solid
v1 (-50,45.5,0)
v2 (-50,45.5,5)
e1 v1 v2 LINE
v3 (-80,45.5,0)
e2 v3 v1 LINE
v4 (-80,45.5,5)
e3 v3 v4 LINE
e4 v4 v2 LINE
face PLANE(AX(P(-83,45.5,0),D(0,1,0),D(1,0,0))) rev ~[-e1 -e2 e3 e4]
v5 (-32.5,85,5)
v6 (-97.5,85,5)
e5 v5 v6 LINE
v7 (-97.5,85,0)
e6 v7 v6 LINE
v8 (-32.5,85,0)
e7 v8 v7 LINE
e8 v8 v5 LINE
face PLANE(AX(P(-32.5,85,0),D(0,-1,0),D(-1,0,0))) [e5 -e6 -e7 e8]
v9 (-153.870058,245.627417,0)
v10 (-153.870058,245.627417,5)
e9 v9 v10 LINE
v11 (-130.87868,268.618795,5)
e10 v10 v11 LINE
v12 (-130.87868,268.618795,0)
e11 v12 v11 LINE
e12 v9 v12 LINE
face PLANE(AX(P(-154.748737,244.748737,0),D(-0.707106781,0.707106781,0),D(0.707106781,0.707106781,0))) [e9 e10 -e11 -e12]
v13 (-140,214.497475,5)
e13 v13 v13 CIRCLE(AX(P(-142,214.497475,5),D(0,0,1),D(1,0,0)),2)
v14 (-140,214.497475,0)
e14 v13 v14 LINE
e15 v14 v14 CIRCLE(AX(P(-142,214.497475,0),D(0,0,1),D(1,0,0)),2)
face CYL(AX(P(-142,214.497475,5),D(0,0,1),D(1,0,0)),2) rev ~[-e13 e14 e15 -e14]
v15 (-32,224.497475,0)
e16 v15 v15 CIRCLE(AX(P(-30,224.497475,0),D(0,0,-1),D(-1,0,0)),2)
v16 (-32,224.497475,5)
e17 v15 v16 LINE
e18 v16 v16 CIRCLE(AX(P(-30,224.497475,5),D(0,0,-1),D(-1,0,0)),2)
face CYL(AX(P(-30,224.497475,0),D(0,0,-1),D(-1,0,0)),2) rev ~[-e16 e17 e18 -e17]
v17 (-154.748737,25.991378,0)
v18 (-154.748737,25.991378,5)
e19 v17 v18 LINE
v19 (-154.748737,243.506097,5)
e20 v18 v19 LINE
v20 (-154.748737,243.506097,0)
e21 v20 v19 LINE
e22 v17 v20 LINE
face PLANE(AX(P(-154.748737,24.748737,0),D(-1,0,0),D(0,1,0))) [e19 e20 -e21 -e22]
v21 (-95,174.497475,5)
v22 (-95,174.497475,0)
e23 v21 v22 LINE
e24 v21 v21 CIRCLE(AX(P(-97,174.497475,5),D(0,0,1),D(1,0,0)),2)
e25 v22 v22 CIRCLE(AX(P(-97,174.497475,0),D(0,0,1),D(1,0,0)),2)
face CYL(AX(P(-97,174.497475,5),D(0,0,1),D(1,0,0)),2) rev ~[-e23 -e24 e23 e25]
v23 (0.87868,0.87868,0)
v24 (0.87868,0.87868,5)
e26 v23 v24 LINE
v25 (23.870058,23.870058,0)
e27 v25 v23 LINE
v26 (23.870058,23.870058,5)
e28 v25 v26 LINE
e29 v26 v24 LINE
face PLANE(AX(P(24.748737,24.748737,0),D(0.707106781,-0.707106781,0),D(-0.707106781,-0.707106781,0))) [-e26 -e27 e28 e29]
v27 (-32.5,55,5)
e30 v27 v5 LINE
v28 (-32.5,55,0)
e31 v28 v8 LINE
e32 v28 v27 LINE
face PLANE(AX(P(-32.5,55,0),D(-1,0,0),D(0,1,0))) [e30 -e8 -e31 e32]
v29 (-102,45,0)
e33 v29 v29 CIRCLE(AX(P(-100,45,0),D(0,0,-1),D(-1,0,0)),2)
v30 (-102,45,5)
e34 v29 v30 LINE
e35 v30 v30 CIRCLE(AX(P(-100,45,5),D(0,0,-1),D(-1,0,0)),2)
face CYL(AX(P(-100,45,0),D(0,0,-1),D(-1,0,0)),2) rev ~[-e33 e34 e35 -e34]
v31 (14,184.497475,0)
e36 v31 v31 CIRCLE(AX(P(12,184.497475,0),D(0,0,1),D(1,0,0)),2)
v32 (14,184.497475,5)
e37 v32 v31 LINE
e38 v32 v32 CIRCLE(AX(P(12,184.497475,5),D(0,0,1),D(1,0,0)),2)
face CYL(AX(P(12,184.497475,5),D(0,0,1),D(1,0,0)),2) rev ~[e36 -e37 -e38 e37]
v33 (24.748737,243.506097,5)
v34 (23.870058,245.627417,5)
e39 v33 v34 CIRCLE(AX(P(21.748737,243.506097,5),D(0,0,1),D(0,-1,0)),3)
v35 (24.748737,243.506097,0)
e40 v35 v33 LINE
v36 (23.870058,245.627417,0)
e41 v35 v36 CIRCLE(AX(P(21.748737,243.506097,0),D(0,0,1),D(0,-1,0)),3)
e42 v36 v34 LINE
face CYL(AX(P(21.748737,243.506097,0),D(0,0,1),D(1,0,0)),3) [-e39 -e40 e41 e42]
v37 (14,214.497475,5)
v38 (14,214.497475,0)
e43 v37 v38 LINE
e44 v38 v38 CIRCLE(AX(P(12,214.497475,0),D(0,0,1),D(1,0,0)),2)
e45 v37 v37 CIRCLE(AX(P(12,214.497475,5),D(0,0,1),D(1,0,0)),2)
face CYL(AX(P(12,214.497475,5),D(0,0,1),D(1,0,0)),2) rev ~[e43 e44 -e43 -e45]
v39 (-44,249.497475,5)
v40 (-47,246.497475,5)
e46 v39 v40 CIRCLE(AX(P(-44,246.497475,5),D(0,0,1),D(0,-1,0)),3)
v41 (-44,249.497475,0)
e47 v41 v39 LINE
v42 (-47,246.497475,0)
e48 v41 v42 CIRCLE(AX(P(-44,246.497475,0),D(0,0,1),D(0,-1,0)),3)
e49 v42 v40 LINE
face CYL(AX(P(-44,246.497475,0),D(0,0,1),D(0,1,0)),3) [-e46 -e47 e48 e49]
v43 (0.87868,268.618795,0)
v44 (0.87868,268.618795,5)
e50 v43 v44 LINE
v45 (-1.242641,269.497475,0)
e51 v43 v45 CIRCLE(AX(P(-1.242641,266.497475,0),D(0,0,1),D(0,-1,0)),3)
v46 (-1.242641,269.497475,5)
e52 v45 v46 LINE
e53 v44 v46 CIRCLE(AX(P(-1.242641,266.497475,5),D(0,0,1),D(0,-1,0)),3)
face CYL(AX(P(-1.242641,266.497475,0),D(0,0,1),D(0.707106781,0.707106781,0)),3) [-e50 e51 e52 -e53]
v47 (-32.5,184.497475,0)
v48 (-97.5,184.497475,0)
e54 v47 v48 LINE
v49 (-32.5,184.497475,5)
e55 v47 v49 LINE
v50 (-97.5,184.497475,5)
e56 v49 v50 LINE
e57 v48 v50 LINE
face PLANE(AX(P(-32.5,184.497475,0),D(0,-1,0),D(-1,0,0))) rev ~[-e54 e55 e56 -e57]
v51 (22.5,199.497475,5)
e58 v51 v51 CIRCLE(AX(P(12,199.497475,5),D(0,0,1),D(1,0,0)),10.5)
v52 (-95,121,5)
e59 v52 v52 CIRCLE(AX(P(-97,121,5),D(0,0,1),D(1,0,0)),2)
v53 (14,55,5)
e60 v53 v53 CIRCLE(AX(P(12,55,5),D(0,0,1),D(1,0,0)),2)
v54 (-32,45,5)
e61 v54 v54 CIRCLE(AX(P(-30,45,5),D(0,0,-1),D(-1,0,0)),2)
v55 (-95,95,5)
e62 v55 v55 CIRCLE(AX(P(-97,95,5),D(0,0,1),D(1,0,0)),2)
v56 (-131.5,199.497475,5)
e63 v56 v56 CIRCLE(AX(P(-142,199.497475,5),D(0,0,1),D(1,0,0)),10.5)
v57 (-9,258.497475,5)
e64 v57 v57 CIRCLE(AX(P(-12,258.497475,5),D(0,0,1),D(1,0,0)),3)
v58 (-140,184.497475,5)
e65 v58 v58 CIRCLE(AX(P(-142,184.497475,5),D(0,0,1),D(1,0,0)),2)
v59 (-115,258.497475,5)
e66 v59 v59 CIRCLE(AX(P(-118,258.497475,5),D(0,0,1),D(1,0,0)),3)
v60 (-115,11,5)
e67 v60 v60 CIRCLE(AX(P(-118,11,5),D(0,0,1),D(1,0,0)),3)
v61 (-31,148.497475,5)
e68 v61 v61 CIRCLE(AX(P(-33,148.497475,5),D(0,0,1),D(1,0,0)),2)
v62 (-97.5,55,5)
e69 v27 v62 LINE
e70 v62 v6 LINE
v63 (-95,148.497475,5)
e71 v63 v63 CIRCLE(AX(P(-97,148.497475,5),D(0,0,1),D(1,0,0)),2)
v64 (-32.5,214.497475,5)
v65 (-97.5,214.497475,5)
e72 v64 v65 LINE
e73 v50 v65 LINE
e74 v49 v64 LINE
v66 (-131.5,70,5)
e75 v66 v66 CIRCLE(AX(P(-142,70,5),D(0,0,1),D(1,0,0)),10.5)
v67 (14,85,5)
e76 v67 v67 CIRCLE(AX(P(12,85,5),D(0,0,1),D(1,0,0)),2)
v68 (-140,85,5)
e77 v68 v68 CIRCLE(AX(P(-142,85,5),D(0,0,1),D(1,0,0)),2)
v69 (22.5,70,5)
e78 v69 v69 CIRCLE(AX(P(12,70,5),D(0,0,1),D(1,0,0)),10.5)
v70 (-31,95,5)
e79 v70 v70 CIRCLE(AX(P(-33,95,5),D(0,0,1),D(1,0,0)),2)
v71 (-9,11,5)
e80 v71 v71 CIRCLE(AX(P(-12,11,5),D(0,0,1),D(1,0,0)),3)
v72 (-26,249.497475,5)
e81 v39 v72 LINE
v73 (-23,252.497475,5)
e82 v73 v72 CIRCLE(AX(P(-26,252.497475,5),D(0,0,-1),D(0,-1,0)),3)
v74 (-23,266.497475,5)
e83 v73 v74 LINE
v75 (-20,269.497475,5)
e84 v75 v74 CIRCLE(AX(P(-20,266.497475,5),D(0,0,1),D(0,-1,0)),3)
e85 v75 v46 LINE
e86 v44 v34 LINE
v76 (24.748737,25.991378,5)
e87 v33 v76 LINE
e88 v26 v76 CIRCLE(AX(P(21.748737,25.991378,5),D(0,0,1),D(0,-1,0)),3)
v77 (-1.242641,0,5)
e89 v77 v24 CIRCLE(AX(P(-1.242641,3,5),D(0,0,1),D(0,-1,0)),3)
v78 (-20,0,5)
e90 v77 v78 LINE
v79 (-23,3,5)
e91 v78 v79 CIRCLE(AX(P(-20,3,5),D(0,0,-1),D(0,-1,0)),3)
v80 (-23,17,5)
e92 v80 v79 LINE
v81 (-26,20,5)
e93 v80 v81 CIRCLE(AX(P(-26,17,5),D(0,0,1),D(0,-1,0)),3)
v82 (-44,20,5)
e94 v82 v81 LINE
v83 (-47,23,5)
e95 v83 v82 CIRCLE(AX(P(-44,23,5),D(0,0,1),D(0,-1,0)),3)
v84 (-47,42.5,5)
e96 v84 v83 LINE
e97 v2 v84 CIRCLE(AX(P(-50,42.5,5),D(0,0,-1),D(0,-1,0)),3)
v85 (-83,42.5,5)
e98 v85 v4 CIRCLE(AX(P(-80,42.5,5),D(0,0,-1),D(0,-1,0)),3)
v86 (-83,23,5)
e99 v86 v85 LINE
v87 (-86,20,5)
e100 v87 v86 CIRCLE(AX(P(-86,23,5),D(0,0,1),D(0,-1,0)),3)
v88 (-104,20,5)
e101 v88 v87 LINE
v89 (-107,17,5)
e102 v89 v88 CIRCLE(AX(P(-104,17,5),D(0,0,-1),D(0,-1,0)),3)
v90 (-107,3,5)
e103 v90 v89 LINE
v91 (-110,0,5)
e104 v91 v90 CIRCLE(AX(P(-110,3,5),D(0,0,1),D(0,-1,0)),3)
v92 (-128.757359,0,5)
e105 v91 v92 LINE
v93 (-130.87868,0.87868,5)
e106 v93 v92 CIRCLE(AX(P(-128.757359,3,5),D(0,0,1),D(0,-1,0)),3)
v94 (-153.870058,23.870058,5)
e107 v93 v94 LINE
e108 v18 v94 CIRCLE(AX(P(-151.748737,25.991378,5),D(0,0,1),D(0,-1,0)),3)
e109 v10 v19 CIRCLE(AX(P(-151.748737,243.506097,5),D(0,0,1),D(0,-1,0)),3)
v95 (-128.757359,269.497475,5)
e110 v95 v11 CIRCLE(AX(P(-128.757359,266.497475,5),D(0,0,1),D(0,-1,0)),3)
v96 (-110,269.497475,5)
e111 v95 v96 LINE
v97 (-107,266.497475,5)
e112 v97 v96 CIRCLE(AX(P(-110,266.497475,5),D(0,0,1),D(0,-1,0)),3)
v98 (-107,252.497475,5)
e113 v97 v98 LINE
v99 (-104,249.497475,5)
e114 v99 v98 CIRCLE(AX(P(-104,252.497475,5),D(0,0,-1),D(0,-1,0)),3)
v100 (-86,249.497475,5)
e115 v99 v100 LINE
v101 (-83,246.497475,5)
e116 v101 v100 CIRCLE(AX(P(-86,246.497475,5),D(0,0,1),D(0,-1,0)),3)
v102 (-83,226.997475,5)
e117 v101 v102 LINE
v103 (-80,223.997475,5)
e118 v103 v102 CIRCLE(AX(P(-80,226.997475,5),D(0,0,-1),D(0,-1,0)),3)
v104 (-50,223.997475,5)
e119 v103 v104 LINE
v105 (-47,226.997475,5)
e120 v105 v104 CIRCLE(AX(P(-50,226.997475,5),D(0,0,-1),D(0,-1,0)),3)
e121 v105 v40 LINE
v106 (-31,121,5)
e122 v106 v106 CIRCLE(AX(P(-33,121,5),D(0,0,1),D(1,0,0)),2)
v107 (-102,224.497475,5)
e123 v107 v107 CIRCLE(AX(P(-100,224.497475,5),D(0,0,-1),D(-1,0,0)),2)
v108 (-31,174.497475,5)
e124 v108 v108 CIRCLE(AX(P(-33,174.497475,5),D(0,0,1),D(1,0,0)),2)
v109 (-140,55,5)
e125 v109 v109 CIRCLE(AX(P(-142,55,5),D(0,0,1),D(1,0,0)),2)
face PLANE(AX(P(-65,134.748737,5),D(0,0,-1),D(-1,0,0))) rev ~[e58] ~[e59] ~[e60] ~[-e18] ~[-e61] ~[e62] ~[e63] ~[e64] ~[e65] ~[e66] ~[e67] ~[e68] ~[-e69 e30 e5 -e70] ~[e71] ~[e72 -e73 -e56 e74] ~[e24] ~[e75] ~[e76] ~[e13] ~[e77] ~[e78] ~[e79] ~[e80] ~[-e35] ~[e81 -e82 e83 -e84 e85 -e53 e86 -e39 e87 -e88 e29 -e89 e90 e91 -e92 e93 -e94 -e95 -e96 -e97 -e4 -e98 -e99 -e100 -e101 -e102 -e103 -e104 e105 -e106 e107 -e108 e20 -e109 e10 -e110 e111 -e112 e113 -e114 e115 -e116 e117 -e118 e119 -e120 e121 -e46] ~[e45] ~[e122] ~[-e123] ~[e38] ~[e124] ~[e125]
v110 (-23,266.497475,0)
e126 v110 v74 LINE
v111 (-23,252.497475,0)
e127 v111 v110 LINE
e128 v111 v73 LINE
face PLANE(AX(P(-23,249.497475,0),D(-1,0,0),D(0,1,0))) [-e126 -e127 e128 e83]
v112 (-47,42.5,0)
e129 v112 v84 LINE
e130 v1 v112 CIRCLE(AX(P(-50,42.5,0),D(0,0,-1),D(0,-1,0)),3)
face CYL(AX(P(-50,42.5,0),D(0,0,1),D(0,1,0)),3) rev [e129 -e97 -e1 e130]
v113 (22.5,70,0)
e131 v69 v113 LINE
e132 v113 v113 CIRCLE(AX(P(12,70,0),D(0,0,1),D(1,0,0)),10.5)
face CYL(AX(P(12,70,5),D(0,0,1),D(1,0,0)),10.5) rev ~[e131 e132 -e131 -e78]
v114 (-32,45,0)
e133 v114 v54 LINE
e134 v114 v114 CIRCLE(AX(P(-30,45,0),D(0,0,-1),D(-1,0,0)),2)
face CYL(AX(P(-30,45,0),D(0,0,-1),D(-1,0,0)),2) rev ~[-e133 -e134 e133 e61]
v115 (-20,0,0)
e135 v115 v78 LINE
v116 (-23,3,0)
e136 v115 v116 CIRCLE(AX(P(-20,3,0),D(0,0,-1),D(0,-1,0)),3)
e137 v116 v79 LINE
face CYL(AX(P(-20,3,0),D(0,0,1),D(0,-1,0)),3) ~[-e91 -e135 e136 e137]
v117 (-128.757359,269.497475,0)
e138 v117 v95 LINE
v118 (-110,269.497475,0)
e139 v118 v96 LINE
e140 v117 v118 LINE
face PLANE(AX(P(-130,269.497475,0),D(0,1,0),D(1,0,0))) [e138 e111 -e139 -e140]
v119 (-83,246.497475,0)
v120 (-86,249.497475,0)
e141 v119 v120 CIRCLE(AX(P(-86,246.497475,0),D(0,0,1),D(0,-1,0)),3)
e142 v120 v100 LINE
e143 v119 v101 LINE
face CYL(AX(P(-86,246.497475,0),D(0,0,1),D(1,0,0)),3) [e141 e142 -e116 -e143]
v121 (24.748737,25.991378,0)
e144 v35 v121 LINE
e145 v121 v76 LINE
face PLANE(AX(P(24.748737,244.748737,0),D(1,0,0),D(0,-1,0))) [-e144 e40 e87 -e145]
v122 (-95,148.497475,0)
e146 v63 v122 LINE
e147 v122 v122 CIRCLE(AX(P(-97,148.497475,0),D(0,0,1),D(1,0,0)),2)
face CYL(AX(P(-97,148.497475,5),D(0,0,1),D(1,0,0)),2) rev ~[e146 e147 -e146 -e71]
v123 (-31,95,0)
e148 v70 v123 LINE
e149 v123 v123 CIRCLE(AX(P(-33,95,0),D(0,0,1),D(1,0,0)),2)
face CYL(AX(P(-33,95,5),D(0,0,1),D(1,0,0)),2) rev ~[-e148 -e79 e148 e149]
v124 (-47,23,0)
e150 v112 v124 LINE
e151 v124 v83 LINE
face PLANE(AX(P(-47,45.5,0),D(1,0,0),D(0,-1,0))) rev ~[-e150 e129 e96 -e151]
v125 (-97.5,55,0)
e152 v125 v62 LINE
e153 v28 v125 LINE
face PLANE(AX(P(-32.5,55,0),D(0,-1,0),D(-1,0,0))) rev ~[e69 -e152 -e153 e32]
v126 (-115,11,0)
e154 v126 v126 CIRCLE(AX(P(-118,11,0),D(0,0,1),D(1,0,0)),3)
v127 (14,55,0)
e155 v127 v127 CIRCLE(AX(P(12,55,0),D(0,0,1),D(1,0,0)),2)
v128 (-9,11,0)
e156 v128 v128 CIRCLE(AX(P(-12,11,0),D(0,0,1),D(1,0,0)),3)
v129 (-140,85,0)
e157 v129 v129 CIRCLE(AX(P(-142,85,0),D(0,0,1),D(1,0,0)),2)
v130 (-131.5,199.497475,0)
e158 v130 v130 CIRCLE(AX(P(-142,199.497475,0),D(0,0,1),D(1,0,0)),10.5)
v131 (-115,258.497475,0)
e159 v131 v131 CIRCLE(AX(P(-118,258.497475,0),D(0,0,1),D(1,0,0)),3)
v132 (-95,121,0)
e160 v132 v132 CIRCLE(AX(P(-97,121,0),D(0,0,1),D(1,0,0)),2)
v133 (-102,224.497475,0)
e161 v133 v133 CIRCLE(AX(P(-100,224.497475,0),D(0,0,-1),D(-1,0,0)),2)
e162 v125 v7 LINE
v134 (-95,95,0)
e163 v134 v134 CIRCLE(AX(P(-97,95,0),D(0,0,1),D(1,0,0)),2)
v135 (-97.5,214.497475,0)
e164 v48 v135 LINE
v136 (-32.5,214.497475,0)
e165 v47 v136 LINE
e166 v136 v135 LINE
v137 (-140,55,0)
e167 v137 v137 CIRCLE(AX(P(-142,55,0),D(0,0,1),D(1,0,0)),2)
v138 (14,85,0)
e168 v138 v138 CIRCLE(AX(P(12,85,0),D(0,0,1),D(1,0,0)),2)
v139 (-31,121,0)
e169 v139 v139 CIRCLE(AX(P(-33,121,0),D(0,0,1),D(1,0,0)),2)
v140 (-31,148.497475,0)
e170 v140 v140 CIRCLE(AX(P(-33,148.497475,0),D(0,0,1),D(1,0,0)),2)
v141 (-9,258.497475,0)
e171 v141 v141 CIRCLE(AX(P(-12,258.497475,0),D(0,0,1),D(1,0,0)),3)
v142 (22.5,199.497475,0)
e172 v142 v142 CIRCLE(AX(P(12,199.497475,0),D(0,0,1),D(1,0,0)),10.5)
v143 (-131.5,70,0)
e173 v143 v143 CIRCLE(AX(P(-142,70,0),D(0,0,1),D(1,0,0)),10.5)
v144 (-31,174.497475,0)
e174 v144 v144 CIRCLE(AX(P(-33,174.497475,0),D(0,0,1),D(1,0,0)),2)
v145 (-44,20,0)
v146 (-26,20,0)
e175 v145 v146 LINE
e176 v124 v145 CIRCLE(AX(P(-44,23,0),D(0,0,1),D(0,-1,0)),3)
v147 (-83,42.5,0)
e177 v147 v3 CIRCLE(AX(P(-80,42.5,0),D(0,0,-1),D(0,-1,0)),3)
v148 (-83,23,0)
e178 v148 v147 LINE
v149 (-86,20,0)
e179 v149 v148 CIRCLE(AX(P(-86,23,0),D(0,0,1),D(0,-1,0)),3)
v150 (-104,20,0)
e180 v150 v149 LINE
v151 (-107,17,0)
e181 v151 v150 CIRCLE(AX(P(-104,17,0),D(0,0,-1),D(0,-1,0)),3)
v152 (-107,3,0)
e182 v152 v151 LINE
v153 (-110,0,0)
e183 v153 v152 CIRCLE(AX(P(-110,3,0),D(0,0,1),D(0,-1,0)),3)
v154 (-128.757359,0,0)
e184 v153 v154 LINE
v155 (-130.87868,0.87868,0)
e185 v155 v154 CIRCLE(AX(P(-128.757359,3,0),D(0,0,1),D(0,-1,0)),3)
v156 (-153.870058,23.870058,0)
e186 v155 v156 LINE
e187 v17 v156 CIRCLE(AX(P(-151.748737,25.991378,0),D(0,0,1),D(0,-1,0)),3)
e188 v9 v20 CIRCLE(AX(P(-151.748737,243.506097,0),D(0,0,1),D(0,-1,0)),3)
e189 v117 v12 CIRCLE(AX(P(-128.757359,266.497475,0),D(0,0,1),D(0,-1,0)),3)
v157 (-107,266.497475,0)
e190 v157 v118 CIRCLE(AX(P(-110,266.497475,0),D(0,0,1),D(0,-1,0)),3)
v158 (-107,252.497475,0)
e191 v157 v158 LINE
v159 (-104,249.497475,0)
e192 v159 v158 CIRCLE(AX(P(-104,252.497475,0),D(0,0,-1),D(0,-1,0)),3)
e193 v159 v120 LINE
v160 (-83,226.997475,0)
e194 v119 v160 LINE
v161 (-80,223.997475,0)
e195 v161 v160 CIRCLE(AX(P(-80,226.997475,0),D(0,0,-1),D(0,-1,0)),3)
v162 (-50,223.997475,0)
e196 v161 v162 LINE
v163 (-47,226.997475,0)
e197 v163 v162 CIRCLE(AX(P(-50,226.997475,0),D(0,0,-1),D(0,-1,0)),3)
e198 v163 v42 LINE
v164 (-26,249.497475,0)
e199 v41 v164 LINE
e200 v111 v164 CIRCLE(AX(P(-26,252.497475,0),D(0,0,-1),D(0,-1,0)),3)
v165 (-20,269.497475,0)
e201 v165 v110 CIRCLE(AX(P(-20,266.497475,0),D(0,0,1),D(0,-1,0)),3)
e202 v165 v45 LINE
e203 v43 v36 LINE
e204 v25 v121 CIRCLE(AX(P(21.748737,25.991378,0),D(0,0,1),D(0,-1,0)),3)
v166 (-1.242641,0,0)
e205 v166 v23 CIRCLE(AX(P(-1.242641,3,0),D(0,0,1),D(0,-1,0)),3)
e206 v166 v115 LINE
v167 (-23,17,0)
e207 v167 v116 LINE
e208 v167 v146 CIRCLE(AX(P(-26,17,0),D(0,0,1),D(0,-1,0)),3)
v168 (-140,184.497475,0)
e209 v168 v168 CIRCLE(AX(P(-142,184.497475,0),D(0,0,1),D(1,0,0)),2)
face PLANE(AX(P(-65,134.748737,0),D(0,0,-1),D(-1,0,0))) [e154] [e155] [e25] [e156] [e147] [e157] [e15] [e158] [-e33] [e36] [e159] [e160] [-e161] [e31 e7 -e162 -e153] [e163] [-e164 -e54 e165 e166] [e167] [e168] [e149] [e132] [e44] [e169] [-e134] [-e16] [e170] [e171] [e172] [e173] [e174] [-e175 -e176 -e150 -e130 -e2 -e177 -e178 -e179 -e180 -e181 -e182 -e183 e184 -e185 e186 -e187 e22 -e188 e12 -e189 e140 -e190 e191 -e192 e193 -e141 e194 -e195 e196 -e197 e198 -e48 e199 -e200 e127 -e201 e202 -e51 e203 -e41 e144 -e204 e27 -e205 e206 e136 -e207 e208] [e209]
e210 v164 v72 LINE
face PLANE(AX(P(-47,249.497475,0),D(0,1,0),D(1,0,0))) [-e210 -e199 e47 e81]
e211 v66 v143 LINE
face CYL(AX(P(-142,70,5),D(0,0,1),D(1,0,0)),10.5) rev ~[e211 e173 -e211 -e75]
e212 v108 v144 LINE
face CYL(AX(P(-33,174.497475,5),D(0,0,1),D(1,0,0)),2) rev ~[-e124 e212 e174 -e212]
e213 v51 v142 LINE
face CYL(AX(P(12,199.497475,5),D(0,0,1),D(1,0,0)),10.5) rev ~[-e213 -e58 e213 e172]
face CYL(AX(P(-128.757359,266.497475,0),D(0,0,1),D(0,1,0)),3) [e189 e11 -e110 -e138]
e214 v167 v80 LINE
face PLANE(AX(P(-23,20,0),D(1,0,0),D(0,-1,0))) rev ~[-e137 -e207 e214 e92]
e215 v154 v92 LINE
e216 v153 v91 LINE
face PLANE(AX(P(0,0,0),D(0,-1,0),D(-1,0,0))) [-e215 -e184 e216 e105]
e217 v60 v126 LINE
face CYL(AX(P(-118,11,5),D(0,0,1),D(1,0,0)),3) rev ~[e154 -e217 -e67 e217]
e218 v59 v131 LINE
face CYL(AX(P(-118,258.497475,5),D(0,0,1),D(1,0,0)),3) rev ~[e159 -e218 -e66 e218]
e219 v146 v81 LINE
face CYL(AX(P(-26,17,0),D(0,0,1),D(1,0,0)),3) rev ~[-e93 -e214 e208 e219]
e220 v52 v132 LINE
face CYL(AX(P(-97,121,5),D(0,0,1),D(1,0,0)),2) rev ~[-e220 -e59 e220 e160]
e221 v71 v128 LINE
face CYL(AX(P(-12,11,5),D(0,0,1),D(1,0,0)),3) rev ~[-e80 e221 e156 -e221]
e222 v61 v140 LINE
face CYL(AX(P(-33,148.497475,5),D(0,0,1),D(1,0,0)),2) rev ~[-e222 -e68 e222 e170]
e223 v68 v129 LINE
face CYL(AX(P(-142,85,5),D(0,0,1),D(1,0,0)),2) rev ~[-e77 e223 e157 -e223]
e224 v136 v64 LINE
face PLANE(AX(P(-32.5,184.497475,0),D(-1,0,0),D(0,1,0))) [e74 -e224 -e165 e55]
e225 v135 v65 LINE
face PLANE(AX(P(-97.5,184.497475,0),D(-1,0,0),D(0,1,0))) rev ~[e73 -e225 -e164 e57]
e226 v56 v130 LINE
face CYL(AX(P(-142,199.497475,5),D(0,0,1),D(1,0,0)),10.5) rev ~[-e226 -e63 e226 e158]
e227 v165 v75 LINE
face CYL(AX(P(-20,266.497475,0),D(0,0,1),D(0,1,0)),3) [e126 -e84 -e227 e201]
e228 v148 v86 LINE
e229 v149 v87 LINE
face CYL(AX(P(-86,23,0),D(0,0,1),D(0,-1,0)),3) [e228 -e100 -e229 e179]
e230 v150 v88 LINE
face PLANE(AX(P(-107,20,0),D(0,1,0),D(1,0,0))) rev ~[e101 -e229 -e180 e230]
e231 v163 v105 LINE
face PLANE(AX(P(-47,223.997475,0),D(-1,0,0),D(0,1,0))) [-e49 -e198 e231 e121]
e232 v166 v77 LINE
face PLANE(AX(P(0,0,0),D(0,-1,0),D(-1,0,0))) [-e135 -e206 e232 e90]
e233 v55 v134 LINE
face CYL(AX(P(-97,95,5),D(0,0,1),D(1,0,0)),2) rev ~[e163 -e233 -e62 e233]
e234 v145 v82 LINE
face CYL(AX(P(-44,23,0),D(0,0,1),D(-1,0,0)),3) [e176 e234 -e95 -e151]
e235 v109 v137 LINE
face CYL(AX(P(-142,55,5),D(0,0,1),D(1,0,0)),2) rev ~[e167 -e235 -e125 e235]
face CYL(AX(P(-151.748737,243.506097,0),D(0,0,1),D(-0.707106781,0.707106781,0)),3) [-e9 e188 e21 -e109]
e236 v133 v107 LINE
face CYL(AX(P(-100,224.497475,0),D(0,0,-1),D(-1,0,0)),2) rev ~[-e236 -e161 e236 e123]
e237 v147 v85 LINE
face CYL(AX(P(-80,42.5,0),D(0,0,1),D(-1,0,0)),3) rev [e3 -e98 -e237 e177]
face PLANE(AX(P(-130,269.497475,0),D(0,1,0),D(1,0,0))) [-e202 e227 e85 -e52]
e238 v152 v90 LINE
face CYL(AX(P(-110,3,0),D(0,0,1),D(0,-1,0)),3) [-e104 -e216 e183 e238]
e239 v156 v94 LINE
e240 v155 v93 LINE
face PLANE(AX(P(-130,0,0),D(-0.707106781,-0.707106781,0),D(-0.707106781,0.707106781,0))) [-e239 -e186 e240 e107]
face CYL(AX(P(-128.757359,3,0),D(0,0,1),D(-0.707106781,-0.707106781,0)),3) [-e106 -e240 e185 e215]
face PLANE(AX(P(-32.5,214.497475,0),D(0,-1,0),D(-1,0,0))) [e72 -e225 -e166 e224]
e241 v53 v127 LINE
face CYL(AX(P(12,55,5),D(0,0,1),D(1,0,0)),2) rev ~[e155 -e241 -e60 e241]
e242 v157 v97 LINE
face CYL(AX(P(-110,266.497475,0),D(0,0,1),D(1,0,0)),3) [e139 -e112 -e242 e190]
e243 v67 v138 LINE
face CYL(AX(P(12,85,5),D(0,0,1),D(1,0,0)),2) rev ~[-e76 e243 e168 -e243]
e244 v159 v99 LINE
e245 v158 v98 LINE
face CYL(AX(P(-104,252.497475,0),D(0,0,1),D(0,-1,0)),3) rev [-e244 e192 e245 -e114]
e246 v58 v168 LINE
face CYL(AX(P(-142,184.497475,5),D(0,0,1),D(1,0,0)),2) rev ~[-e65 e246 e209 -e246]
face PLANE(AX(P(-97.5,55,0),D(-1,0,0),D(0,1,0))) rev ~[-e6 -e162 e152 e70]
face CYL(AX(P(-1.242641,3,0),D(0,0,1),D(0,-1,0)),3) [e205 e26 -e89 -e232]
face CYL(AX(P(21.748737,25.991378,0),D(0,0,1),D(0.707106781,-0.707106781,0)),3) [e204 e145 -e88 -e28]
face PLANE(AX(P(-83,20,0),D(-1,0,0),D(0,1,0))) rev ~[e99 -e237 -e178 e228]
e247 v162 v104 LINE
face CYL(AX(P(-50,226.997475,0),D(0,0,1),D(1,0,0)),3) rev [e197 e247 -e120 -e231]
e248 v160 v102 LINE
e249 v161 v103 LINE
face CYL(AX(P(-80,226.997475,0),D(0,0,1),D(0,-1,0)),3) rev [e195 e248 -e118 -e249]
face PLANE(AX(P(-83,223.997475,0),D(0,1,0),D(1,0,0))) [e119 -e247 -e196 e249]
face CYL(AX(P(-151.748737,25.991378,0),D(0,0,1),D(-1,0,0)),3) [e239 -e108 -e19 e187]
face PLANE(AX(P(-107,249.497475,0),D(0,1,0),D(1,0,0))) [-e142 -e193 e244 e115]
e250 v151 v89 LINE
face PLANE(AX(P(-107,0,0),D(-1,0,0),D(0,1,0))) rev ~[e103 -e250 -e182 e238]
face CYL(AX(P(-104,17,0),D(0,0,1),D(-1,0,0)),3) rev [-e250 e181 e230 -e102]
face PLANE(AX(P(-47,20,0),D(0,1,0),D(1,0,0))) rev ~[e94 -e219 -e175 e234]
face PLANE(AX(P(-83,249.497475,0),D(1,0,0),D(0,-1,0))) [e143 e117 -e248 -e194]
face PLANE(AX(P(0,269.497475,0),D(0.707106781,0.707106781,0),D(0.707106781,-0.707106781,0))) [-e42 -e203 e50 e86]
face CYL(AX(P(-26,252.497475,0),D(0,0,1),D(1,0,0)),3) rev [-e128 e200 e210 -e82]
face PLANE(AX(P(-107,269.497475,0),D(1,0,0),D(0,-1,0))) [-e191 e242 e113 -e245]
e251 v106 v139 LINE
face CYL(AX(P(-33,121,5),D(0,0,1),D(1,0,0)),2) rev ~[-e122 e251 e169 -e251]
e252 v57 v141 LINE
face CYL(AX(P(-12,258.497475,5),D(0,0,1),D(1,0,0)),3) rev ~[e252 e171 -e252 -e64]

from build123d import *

# Parameters (mm, degrees)
BASE_DEPTH                = 5
ESQUISSE3_R               = 2
ESQUISSE3_W               = 65
ESQUISSE3_H               = 30
ENL_V_MAT_EXTRU_1_DEPTH   = 6
CONG_1_R                  = 3
PER_AGE_POUR_BILLES_REACH = 7
ESQUISSE6_R               = 2
ESQUISSE6_R_2             = 10.5
PER_AGE_POUR_PROFIL_REACH = 7
ESQUISSE8_R               = 3
ESQUISSE10_R              = 2
ENL_V_MAT_EXTRU_3_DEPTH   = 6


with BuildPart() as part:
    # Esquisse1 → Base (new body)
    with BuildSketch(Plane.XY):
        Polygon((0, 0), (-130, 0), (-154.748737342, 24.748737342), (-154.748737342, 244.748737342), (-130, 269.497474683), (0, 269.497474683), (24.748737342, 244.748737342), (24.748737342, 24.748737342), align=None)
    extrude(amount=BASE_DEPTH)

    # Esquisse3 → Enlèv. mat.-Extru.1 (cut, through all)
    with BuildSketch(Plane(origin=(0, 0, 0), x_dir=(-1, 0, 0), z_dir=(0, 0, -1))):
        with Locations((30, 45)):
            Circle(ESQUISSE3_R)
        with Locations((100, 45)):
            Circle(ESQUISSE3_R)
        with Locations((100, 224.497474683)):
            Circle(ESQUISSE3_R)
        with Locations((30, 224.497474683)):
            Circle(ESQUISSE3_R)
        Polygon((107, 0), (107, 20), (83, 20), (83, 45.5), (47, 45.5), (47, 20), (23, 20), (23, 0), align=None)
        Polygon((23, 269.497474683), (107, 269.497474683), (107, 249.497474683), (83, 249.497474683), (83, 223.997474683), (47, 223.997474683), (47, 249.497474683), (23, 249.497474683), align=None)
        with Locations((65, 199.497474683)):
            Rectangle(ESQUISSE3_W, ESQUISSE3_H)
        with Locations((65, 70)):
            Rectangle(ESQUISSE3_W, ESQUISSE3_H)
    extrude(amount=-ENL_V_MAT_EXTRU_1_DEPTH, mode=Mode.SUBTRACT)

    # Congé1
    cong_1_edges = [part.edges().sort_by_distance(p)[0] for p in [
        (0, 0, 2.5),
        (-130, 0, 2.5),
        (-154.748737342, 24.748737342, 2.5),
        (-154.748737342, 244.748737342, 2.5),
        (-130, 269.497474683, 2.5),
        (0, 269.497474683, 2.5),
        (24.748737342, 244.748737342, 2.5),
        (24.748737342, 24.748737342, 2.5),
        (-23, 249.497474683, 2.5),
        (-23, 269.497474683, 2.5),
        (-107, 269.497474683, 2.5),
        (-107, 249.497474683, 2.5),
        (-83, 249.497474683, 2.5),
        (-83, 223.997474683, 2.5),
        (-47, 223.997474683, 2.5),
        (-47, 249.497474683, 2.5),
        (-107, 0, 2.5),
        (-23, 0, 2.5),
        (-23, 20, 2.5),
        (-47, 20, 2.5),
        (-47, 45.5, 2.5),
        (-83, 45.5, 2.5),
        (-83, 20, 2.5),
        (-107, 20, 2.5),
    ]]
    fillet(cong_1_edges, radius=CONG_1_R)

    # Esquisse6 → Perçage pour billes (cut, up to next)
    with BuildSketch(Plane.XY.offset(5), mode=Mode.PRIVATE) as per_age_pour_billes_sk1:
        with Locations((-142, 55)):
            Circle(ESQUISSE6_R)
    per_age_pour_billes_tool1 = extrude(per_age_pour_billes_sk1.sketch, amount=-PER_AGE_POUR_BILLES_REACH, mode=Mode.PRIVATE) & part.part
    add(per_age_pour_billes_tool1.solids().sort_by_distance((-142, 55, 5))[0], mode=Mode.SUBTRACT)
    # Esquisse6 → Perçage pour billes (cut, up to next)
    with BuildSketch(Plane.XY.offset(5), mode=Mode.PRIVATE) as per_age_pour_billes_sk2:
        with Locations((-142, 85)):
            Circle(ESQUISSE6_R)
    per_age_pour_billes_tool2 = extrude(per_age_pour_billes_sk2.sketch, amount=-PER_AGE_POUR_BILLES_REACH, mode=Mode.PRIVATE) & part.part
    add(per_age_pour_billes_tool2.solids().sort_by_distance((-142, 85, 5))[0], mode=Mode.SUBTRACT)
    # Esquisse6 → Perçage pour billes (cut, up to next)
    with BuildSketch(Plane.XY.offset(5), mode=Mode.PRIVATE) as per_age_pour_billes_sk3:
        with Locations((-142, 70)):
            Circle(ESQUISSE6_R_2)
    per_age_pour_billes_tool3 = extrude(per_age_pour_billes_sk3.sketch, amount=-PER_AGE_POUR_BILLES_REACH, mode=Mode.PRIVATE) & part.part
    add(per_age_pour_billes_tool3.solids().sort_by_distance((-142, 70, 5))[0], mode=Mode.SUBTRACT)
    # Esquisse6 → Perçage pour billes (cut, up to next)
    with BuildSketch(Plane.XY.offset(5), mode=Mode.PRIVATE) as per_age_pour_billes_sk4:
        with Locations((-142, 214.497474683)):
            Circle(ESQUISSE6_R)
    per_age_pour_billes_tool4 = extrude(per_age_pour_billes_sk4.sketch, amount=-PER_AGE_POUR_BILLES_REACH, mode=Mode.PRIVATE) & part.part
    add(per_age_pour_billes_tool4.solids().sort_by_distance((-142, 214.497475, 5))[0], mode=Mode.SUBTRACT)
    # Esquisse6 → Perçage pour billes (cut, up to next)
    with BuildSketch(Plane.XY.offset(5), mode=Mode.PRIVATE) as per_age_pour_billes_sk5:
        with Locations((-142, 184.497474683)):
            Circle(ESQUISSE6_R)
    per_age_pour_billes_tool5 = extrude(per_age_pour_billes_sk5.sketch, amount=-PER_AGE_POUR_BILLES_REACH, mode=Mode.PRIVATE) & part.part
    add(per_age_pour_billes_tool5.solids().sort_by_distance((-142, 184.497475, 5))[0], mode=Mode.SUBTRACT)
    # Esquisse6 → Perçage pour billes (cut, up to next)
    with BuildSketch(Plane.XY.offset(5), mode=Mode.PRIVATE) as per_age_pour_billes_sk6:
        with Locations((-142, 199.497474683)):
            Circle(ESQUISSE6_R_2)
    per_age_pour_billes_tool6 = extrude(per_age_pour_billes_sk6.sketch, amount=-PER_AGE_POUR_BILLES_REACH, mode=Mode.PRIVATE) & part.part
    add(per_age_pour_billes_tool6.solids().sort_by_distance((-142, 199.497475, 5))[0], mode=Mode.SUBTRACT)
    # Esquisse6 → Perçage pour billes (cut, up to next)
    with BuildSketch(Plane.XY.offset(5), mode=Mode.PRIVATE) as per_age_pour_billes_sk7:
        with Locations((12, 55)):
            Circle(ESQUISSE6_R)
    per_age_pour_billes_tool7 = extrude(per_age_pour_billes_sk7.sketch, amount=-PER_AGE_POUR_BILLES_REACH, mode=Mode.PRIVATE) & part.part
    add(per_age_pour_billes_tool7.solids().sort_by_distance((12, 55, 5))[0], mode=Mode.SUBTRACT)
    # Esquisse6 → Perçage pour billes (cut, up to next)
    with BuildSketch(Plane.XY.offset(5), mode=Mode.PRIVATE) as per_age_pour_billes_sk8:
        with Locations((12, 184.497474683)):
            Circle(ESQUISSE6_R)
    per_age_pour_billes_tool8 = extrude(per_age_pour_billes_sk8.sketch, amount=-PER_AGE_POUR_BILLES_REACH, mode=Mode.PRIVATE) & part.part
    add(per_age_pour_billes_tool8.solids().sort_by_distance((12, 184.497475, 5))[0], mode=Mode.SUBTRACT)
    # Esquisse6 → Perçage pour billes (cut, up to next)
    with BuildSketch(Plane.XY.offset(5), mode=Mode.PRIVATE) as per_age_pour_billes_sk9:
        with Locations((12, 214.497474683)):
            Circle(ESQUISSE6_R)
    per_age_pour_billes_tool9 = extrude(per_age_pour_billes_sk9.sketch, amount=-PER_AGE_POUR_BILLES_REACH, mode=Mode.PRIVATE) & part.part
    add(per_age_pour_billes_tool9.solids().sort_by_distance((12, 214.497475, 5))[0], mode=Mode.SUBTRACT)
    # Esquisse6 → Perçage pour billes (cut, up to next)
    with BuildSketch(Plane.XY.offset(5), mode=Mode.PRIVATE) as per_age_pour_billes_sk10:
        with Locations((12, 85)):
            Circle(ESQUISSE6_R)
    per_age_pour_billes_tool10 = extrude(per_age_pour_billes_sk10.sketch, amount=-PER_AGE_POUR_BILLES_REACH, mode=Mode.PRIVATE) & part.part
    add(per_age_pour_billes_tool10.solids().sort_by_distance((12, 85, 5))[0], mode=Mode.SUBTRACT)
    # Esquisse6 → Perçage pour billes (cut, up to next)
    with BuildSketch(Plane.XY.offset(5), mode=Mode.PRIVATE) as per_age_pour_billes_sk11:
        with Locations((12, 70)):
            Circle(ESQUISSE6_R_2)
    per_age_pour_billes_tool11 = extrude(per_age_pour_billes_sk11.sketch, amount=-PER_AGE_POUR_BILLES_REACH, mode=Mode.PRIVATE) & part.part
    add(per_age_pour_billes_tool11.solids().sort_by_distance((12, 70, 5))[0], mode=Mode.SUBTRACT)
    # Esquisse6 → Perçage pour billes (cut, up to next)
    with BuildSketch(Plane.XY.offset(5), mode=Mode.PRIVATE) as per_age_pour_billes_sk12:
        with Locations((12, 199.497474683)):
            Circle(ESQUISSE6_R_2)
    per_age_pour_billes_tool12 = extrude(per_age_pour_billes_sk12.sketch, amount=-PER_AGE_POUR_BILLES_REACH, mode=Mode.PRIVATE) & part.part
    add(per_age_pour_billes_tool12.solids().sort_by_distance((12, 199.497475, 5))[0], mode=Mode.SUBTRACT)

    # Esquisse8 → Perçage pour profilé (cut, up to next)
    with BuildSketch(Plane.XY.offset(5), mode=Mode.PRIVATE) as per_age_pour_profil_sk1:
        with Locations((-118, 11)):
            Circle(ESQUISSE8_R)
    per_age_pour_profil_tool1 = extrude(per_age_pour_profil_sk1.sketch, amount=-PER_AGE_POUR_PROFIL_REACH, mode=Mode.PRIVATE) & part.part
    add(per_age_pour_profil_tool1.solids().sort_by_distance((-118, 11, 5))[0], mode=Mode.SUBTRACT)
    # Esquisse8 → Perçage pour profilé (cut, up to next)
    with BuildSketch(Plane.XY.offset(5), mode=Mode.PRIVATE) as per_age_pour_profil_sk2:
        with Locations((-118, 258.497474683)):
            Circle(ESQUISSE8_R)
    per_age_pour_profil_tool2 = extrude(per_age_pour_profil_sk2.sketch, amount=-PER_AGE_POUR_PROFIL_REACH, mode=Mode.PRIVATE) & part.part
    add(per_age_pour_profil_tool2.solids().sort_by_distance((-118, 258.497475, 5))[0], mode=Mode.SUBTRACT)
    # Esquisse8 → Perçage pour profilé (cut, up to next)
    with BuildSketch(Plane.XY.offset(5), mode=Mode.PRIVATE) as per_age_pour_profil_sk3:
        with Locations((-12, 258.497474683)):
            Circle(ESQUISSE8_R)
    per_age_pour_profil_tool3 = extrude(per_age_pour_profil_sk3.sketch, amount=-PER_AGE_POUR_PROFIL_REACH, mode=Mode.PRIVATE) & part.part
    add(per_age_pour_profil_tool3.solids().sort_by_distance((-12, 258.497475, 5))[0], mode=Mode.SUBTRACT)
    # Esquisse8 → Perçage pour profilé (cut, up to next)
    with BuildSketch(Plane.XY.offset(5), mode=Mode.PRIVATE) as per_age_pour_profil_sk4:
        with Locations((-12, 11)):
            Circle(ESQUISSE8_R)
    per_age_pour_profil_tool4 = extrude(per_age_pour_profil_sk4.sketch, amount=-PER_AGE_POUR_PROFIL_REACH, mode=Mode.PRIVATE) & part.part
    add(per_age_pour_profil_tool4.solids().sort_by_distance((-12, 11, 5))[0], mode=Mode.SUBTRACT)

    # Esquisse10 → Enlèv. mat.-Extru.3 (cut, through all)
    with BuildSketch(Plane.XY.offset(5)):
        with Locations((-97, 174.497474683)):
            Circle(ESQUISSE10_R)
        with Locations((-97, 148.497474683)):
            Circle(ESQUISSE10_R)
        with Locations((-33, 148.497474683)):
            Circle(ESQUISSE10_R)
        with Locations((-33, 174.497474683)):
            Circle(ESQUISSE10_R)
        with Locations((-33, 121)):
            Circle(ESQUISSE10_R)
        with Locations((-33, 95)):
            Circle(ESQUISSE10_R)
        with Locations((-97, 121)):
            Circle(ESQUISSE10_R)
        with Locations((-97, 95)):
            Circle(ESQUISSE10_R)
    extrude(amount=-ENL_V_MAT_EXTRU_3_DEPTH, mode=Mode.SUBTRACT)


solid = part.part
